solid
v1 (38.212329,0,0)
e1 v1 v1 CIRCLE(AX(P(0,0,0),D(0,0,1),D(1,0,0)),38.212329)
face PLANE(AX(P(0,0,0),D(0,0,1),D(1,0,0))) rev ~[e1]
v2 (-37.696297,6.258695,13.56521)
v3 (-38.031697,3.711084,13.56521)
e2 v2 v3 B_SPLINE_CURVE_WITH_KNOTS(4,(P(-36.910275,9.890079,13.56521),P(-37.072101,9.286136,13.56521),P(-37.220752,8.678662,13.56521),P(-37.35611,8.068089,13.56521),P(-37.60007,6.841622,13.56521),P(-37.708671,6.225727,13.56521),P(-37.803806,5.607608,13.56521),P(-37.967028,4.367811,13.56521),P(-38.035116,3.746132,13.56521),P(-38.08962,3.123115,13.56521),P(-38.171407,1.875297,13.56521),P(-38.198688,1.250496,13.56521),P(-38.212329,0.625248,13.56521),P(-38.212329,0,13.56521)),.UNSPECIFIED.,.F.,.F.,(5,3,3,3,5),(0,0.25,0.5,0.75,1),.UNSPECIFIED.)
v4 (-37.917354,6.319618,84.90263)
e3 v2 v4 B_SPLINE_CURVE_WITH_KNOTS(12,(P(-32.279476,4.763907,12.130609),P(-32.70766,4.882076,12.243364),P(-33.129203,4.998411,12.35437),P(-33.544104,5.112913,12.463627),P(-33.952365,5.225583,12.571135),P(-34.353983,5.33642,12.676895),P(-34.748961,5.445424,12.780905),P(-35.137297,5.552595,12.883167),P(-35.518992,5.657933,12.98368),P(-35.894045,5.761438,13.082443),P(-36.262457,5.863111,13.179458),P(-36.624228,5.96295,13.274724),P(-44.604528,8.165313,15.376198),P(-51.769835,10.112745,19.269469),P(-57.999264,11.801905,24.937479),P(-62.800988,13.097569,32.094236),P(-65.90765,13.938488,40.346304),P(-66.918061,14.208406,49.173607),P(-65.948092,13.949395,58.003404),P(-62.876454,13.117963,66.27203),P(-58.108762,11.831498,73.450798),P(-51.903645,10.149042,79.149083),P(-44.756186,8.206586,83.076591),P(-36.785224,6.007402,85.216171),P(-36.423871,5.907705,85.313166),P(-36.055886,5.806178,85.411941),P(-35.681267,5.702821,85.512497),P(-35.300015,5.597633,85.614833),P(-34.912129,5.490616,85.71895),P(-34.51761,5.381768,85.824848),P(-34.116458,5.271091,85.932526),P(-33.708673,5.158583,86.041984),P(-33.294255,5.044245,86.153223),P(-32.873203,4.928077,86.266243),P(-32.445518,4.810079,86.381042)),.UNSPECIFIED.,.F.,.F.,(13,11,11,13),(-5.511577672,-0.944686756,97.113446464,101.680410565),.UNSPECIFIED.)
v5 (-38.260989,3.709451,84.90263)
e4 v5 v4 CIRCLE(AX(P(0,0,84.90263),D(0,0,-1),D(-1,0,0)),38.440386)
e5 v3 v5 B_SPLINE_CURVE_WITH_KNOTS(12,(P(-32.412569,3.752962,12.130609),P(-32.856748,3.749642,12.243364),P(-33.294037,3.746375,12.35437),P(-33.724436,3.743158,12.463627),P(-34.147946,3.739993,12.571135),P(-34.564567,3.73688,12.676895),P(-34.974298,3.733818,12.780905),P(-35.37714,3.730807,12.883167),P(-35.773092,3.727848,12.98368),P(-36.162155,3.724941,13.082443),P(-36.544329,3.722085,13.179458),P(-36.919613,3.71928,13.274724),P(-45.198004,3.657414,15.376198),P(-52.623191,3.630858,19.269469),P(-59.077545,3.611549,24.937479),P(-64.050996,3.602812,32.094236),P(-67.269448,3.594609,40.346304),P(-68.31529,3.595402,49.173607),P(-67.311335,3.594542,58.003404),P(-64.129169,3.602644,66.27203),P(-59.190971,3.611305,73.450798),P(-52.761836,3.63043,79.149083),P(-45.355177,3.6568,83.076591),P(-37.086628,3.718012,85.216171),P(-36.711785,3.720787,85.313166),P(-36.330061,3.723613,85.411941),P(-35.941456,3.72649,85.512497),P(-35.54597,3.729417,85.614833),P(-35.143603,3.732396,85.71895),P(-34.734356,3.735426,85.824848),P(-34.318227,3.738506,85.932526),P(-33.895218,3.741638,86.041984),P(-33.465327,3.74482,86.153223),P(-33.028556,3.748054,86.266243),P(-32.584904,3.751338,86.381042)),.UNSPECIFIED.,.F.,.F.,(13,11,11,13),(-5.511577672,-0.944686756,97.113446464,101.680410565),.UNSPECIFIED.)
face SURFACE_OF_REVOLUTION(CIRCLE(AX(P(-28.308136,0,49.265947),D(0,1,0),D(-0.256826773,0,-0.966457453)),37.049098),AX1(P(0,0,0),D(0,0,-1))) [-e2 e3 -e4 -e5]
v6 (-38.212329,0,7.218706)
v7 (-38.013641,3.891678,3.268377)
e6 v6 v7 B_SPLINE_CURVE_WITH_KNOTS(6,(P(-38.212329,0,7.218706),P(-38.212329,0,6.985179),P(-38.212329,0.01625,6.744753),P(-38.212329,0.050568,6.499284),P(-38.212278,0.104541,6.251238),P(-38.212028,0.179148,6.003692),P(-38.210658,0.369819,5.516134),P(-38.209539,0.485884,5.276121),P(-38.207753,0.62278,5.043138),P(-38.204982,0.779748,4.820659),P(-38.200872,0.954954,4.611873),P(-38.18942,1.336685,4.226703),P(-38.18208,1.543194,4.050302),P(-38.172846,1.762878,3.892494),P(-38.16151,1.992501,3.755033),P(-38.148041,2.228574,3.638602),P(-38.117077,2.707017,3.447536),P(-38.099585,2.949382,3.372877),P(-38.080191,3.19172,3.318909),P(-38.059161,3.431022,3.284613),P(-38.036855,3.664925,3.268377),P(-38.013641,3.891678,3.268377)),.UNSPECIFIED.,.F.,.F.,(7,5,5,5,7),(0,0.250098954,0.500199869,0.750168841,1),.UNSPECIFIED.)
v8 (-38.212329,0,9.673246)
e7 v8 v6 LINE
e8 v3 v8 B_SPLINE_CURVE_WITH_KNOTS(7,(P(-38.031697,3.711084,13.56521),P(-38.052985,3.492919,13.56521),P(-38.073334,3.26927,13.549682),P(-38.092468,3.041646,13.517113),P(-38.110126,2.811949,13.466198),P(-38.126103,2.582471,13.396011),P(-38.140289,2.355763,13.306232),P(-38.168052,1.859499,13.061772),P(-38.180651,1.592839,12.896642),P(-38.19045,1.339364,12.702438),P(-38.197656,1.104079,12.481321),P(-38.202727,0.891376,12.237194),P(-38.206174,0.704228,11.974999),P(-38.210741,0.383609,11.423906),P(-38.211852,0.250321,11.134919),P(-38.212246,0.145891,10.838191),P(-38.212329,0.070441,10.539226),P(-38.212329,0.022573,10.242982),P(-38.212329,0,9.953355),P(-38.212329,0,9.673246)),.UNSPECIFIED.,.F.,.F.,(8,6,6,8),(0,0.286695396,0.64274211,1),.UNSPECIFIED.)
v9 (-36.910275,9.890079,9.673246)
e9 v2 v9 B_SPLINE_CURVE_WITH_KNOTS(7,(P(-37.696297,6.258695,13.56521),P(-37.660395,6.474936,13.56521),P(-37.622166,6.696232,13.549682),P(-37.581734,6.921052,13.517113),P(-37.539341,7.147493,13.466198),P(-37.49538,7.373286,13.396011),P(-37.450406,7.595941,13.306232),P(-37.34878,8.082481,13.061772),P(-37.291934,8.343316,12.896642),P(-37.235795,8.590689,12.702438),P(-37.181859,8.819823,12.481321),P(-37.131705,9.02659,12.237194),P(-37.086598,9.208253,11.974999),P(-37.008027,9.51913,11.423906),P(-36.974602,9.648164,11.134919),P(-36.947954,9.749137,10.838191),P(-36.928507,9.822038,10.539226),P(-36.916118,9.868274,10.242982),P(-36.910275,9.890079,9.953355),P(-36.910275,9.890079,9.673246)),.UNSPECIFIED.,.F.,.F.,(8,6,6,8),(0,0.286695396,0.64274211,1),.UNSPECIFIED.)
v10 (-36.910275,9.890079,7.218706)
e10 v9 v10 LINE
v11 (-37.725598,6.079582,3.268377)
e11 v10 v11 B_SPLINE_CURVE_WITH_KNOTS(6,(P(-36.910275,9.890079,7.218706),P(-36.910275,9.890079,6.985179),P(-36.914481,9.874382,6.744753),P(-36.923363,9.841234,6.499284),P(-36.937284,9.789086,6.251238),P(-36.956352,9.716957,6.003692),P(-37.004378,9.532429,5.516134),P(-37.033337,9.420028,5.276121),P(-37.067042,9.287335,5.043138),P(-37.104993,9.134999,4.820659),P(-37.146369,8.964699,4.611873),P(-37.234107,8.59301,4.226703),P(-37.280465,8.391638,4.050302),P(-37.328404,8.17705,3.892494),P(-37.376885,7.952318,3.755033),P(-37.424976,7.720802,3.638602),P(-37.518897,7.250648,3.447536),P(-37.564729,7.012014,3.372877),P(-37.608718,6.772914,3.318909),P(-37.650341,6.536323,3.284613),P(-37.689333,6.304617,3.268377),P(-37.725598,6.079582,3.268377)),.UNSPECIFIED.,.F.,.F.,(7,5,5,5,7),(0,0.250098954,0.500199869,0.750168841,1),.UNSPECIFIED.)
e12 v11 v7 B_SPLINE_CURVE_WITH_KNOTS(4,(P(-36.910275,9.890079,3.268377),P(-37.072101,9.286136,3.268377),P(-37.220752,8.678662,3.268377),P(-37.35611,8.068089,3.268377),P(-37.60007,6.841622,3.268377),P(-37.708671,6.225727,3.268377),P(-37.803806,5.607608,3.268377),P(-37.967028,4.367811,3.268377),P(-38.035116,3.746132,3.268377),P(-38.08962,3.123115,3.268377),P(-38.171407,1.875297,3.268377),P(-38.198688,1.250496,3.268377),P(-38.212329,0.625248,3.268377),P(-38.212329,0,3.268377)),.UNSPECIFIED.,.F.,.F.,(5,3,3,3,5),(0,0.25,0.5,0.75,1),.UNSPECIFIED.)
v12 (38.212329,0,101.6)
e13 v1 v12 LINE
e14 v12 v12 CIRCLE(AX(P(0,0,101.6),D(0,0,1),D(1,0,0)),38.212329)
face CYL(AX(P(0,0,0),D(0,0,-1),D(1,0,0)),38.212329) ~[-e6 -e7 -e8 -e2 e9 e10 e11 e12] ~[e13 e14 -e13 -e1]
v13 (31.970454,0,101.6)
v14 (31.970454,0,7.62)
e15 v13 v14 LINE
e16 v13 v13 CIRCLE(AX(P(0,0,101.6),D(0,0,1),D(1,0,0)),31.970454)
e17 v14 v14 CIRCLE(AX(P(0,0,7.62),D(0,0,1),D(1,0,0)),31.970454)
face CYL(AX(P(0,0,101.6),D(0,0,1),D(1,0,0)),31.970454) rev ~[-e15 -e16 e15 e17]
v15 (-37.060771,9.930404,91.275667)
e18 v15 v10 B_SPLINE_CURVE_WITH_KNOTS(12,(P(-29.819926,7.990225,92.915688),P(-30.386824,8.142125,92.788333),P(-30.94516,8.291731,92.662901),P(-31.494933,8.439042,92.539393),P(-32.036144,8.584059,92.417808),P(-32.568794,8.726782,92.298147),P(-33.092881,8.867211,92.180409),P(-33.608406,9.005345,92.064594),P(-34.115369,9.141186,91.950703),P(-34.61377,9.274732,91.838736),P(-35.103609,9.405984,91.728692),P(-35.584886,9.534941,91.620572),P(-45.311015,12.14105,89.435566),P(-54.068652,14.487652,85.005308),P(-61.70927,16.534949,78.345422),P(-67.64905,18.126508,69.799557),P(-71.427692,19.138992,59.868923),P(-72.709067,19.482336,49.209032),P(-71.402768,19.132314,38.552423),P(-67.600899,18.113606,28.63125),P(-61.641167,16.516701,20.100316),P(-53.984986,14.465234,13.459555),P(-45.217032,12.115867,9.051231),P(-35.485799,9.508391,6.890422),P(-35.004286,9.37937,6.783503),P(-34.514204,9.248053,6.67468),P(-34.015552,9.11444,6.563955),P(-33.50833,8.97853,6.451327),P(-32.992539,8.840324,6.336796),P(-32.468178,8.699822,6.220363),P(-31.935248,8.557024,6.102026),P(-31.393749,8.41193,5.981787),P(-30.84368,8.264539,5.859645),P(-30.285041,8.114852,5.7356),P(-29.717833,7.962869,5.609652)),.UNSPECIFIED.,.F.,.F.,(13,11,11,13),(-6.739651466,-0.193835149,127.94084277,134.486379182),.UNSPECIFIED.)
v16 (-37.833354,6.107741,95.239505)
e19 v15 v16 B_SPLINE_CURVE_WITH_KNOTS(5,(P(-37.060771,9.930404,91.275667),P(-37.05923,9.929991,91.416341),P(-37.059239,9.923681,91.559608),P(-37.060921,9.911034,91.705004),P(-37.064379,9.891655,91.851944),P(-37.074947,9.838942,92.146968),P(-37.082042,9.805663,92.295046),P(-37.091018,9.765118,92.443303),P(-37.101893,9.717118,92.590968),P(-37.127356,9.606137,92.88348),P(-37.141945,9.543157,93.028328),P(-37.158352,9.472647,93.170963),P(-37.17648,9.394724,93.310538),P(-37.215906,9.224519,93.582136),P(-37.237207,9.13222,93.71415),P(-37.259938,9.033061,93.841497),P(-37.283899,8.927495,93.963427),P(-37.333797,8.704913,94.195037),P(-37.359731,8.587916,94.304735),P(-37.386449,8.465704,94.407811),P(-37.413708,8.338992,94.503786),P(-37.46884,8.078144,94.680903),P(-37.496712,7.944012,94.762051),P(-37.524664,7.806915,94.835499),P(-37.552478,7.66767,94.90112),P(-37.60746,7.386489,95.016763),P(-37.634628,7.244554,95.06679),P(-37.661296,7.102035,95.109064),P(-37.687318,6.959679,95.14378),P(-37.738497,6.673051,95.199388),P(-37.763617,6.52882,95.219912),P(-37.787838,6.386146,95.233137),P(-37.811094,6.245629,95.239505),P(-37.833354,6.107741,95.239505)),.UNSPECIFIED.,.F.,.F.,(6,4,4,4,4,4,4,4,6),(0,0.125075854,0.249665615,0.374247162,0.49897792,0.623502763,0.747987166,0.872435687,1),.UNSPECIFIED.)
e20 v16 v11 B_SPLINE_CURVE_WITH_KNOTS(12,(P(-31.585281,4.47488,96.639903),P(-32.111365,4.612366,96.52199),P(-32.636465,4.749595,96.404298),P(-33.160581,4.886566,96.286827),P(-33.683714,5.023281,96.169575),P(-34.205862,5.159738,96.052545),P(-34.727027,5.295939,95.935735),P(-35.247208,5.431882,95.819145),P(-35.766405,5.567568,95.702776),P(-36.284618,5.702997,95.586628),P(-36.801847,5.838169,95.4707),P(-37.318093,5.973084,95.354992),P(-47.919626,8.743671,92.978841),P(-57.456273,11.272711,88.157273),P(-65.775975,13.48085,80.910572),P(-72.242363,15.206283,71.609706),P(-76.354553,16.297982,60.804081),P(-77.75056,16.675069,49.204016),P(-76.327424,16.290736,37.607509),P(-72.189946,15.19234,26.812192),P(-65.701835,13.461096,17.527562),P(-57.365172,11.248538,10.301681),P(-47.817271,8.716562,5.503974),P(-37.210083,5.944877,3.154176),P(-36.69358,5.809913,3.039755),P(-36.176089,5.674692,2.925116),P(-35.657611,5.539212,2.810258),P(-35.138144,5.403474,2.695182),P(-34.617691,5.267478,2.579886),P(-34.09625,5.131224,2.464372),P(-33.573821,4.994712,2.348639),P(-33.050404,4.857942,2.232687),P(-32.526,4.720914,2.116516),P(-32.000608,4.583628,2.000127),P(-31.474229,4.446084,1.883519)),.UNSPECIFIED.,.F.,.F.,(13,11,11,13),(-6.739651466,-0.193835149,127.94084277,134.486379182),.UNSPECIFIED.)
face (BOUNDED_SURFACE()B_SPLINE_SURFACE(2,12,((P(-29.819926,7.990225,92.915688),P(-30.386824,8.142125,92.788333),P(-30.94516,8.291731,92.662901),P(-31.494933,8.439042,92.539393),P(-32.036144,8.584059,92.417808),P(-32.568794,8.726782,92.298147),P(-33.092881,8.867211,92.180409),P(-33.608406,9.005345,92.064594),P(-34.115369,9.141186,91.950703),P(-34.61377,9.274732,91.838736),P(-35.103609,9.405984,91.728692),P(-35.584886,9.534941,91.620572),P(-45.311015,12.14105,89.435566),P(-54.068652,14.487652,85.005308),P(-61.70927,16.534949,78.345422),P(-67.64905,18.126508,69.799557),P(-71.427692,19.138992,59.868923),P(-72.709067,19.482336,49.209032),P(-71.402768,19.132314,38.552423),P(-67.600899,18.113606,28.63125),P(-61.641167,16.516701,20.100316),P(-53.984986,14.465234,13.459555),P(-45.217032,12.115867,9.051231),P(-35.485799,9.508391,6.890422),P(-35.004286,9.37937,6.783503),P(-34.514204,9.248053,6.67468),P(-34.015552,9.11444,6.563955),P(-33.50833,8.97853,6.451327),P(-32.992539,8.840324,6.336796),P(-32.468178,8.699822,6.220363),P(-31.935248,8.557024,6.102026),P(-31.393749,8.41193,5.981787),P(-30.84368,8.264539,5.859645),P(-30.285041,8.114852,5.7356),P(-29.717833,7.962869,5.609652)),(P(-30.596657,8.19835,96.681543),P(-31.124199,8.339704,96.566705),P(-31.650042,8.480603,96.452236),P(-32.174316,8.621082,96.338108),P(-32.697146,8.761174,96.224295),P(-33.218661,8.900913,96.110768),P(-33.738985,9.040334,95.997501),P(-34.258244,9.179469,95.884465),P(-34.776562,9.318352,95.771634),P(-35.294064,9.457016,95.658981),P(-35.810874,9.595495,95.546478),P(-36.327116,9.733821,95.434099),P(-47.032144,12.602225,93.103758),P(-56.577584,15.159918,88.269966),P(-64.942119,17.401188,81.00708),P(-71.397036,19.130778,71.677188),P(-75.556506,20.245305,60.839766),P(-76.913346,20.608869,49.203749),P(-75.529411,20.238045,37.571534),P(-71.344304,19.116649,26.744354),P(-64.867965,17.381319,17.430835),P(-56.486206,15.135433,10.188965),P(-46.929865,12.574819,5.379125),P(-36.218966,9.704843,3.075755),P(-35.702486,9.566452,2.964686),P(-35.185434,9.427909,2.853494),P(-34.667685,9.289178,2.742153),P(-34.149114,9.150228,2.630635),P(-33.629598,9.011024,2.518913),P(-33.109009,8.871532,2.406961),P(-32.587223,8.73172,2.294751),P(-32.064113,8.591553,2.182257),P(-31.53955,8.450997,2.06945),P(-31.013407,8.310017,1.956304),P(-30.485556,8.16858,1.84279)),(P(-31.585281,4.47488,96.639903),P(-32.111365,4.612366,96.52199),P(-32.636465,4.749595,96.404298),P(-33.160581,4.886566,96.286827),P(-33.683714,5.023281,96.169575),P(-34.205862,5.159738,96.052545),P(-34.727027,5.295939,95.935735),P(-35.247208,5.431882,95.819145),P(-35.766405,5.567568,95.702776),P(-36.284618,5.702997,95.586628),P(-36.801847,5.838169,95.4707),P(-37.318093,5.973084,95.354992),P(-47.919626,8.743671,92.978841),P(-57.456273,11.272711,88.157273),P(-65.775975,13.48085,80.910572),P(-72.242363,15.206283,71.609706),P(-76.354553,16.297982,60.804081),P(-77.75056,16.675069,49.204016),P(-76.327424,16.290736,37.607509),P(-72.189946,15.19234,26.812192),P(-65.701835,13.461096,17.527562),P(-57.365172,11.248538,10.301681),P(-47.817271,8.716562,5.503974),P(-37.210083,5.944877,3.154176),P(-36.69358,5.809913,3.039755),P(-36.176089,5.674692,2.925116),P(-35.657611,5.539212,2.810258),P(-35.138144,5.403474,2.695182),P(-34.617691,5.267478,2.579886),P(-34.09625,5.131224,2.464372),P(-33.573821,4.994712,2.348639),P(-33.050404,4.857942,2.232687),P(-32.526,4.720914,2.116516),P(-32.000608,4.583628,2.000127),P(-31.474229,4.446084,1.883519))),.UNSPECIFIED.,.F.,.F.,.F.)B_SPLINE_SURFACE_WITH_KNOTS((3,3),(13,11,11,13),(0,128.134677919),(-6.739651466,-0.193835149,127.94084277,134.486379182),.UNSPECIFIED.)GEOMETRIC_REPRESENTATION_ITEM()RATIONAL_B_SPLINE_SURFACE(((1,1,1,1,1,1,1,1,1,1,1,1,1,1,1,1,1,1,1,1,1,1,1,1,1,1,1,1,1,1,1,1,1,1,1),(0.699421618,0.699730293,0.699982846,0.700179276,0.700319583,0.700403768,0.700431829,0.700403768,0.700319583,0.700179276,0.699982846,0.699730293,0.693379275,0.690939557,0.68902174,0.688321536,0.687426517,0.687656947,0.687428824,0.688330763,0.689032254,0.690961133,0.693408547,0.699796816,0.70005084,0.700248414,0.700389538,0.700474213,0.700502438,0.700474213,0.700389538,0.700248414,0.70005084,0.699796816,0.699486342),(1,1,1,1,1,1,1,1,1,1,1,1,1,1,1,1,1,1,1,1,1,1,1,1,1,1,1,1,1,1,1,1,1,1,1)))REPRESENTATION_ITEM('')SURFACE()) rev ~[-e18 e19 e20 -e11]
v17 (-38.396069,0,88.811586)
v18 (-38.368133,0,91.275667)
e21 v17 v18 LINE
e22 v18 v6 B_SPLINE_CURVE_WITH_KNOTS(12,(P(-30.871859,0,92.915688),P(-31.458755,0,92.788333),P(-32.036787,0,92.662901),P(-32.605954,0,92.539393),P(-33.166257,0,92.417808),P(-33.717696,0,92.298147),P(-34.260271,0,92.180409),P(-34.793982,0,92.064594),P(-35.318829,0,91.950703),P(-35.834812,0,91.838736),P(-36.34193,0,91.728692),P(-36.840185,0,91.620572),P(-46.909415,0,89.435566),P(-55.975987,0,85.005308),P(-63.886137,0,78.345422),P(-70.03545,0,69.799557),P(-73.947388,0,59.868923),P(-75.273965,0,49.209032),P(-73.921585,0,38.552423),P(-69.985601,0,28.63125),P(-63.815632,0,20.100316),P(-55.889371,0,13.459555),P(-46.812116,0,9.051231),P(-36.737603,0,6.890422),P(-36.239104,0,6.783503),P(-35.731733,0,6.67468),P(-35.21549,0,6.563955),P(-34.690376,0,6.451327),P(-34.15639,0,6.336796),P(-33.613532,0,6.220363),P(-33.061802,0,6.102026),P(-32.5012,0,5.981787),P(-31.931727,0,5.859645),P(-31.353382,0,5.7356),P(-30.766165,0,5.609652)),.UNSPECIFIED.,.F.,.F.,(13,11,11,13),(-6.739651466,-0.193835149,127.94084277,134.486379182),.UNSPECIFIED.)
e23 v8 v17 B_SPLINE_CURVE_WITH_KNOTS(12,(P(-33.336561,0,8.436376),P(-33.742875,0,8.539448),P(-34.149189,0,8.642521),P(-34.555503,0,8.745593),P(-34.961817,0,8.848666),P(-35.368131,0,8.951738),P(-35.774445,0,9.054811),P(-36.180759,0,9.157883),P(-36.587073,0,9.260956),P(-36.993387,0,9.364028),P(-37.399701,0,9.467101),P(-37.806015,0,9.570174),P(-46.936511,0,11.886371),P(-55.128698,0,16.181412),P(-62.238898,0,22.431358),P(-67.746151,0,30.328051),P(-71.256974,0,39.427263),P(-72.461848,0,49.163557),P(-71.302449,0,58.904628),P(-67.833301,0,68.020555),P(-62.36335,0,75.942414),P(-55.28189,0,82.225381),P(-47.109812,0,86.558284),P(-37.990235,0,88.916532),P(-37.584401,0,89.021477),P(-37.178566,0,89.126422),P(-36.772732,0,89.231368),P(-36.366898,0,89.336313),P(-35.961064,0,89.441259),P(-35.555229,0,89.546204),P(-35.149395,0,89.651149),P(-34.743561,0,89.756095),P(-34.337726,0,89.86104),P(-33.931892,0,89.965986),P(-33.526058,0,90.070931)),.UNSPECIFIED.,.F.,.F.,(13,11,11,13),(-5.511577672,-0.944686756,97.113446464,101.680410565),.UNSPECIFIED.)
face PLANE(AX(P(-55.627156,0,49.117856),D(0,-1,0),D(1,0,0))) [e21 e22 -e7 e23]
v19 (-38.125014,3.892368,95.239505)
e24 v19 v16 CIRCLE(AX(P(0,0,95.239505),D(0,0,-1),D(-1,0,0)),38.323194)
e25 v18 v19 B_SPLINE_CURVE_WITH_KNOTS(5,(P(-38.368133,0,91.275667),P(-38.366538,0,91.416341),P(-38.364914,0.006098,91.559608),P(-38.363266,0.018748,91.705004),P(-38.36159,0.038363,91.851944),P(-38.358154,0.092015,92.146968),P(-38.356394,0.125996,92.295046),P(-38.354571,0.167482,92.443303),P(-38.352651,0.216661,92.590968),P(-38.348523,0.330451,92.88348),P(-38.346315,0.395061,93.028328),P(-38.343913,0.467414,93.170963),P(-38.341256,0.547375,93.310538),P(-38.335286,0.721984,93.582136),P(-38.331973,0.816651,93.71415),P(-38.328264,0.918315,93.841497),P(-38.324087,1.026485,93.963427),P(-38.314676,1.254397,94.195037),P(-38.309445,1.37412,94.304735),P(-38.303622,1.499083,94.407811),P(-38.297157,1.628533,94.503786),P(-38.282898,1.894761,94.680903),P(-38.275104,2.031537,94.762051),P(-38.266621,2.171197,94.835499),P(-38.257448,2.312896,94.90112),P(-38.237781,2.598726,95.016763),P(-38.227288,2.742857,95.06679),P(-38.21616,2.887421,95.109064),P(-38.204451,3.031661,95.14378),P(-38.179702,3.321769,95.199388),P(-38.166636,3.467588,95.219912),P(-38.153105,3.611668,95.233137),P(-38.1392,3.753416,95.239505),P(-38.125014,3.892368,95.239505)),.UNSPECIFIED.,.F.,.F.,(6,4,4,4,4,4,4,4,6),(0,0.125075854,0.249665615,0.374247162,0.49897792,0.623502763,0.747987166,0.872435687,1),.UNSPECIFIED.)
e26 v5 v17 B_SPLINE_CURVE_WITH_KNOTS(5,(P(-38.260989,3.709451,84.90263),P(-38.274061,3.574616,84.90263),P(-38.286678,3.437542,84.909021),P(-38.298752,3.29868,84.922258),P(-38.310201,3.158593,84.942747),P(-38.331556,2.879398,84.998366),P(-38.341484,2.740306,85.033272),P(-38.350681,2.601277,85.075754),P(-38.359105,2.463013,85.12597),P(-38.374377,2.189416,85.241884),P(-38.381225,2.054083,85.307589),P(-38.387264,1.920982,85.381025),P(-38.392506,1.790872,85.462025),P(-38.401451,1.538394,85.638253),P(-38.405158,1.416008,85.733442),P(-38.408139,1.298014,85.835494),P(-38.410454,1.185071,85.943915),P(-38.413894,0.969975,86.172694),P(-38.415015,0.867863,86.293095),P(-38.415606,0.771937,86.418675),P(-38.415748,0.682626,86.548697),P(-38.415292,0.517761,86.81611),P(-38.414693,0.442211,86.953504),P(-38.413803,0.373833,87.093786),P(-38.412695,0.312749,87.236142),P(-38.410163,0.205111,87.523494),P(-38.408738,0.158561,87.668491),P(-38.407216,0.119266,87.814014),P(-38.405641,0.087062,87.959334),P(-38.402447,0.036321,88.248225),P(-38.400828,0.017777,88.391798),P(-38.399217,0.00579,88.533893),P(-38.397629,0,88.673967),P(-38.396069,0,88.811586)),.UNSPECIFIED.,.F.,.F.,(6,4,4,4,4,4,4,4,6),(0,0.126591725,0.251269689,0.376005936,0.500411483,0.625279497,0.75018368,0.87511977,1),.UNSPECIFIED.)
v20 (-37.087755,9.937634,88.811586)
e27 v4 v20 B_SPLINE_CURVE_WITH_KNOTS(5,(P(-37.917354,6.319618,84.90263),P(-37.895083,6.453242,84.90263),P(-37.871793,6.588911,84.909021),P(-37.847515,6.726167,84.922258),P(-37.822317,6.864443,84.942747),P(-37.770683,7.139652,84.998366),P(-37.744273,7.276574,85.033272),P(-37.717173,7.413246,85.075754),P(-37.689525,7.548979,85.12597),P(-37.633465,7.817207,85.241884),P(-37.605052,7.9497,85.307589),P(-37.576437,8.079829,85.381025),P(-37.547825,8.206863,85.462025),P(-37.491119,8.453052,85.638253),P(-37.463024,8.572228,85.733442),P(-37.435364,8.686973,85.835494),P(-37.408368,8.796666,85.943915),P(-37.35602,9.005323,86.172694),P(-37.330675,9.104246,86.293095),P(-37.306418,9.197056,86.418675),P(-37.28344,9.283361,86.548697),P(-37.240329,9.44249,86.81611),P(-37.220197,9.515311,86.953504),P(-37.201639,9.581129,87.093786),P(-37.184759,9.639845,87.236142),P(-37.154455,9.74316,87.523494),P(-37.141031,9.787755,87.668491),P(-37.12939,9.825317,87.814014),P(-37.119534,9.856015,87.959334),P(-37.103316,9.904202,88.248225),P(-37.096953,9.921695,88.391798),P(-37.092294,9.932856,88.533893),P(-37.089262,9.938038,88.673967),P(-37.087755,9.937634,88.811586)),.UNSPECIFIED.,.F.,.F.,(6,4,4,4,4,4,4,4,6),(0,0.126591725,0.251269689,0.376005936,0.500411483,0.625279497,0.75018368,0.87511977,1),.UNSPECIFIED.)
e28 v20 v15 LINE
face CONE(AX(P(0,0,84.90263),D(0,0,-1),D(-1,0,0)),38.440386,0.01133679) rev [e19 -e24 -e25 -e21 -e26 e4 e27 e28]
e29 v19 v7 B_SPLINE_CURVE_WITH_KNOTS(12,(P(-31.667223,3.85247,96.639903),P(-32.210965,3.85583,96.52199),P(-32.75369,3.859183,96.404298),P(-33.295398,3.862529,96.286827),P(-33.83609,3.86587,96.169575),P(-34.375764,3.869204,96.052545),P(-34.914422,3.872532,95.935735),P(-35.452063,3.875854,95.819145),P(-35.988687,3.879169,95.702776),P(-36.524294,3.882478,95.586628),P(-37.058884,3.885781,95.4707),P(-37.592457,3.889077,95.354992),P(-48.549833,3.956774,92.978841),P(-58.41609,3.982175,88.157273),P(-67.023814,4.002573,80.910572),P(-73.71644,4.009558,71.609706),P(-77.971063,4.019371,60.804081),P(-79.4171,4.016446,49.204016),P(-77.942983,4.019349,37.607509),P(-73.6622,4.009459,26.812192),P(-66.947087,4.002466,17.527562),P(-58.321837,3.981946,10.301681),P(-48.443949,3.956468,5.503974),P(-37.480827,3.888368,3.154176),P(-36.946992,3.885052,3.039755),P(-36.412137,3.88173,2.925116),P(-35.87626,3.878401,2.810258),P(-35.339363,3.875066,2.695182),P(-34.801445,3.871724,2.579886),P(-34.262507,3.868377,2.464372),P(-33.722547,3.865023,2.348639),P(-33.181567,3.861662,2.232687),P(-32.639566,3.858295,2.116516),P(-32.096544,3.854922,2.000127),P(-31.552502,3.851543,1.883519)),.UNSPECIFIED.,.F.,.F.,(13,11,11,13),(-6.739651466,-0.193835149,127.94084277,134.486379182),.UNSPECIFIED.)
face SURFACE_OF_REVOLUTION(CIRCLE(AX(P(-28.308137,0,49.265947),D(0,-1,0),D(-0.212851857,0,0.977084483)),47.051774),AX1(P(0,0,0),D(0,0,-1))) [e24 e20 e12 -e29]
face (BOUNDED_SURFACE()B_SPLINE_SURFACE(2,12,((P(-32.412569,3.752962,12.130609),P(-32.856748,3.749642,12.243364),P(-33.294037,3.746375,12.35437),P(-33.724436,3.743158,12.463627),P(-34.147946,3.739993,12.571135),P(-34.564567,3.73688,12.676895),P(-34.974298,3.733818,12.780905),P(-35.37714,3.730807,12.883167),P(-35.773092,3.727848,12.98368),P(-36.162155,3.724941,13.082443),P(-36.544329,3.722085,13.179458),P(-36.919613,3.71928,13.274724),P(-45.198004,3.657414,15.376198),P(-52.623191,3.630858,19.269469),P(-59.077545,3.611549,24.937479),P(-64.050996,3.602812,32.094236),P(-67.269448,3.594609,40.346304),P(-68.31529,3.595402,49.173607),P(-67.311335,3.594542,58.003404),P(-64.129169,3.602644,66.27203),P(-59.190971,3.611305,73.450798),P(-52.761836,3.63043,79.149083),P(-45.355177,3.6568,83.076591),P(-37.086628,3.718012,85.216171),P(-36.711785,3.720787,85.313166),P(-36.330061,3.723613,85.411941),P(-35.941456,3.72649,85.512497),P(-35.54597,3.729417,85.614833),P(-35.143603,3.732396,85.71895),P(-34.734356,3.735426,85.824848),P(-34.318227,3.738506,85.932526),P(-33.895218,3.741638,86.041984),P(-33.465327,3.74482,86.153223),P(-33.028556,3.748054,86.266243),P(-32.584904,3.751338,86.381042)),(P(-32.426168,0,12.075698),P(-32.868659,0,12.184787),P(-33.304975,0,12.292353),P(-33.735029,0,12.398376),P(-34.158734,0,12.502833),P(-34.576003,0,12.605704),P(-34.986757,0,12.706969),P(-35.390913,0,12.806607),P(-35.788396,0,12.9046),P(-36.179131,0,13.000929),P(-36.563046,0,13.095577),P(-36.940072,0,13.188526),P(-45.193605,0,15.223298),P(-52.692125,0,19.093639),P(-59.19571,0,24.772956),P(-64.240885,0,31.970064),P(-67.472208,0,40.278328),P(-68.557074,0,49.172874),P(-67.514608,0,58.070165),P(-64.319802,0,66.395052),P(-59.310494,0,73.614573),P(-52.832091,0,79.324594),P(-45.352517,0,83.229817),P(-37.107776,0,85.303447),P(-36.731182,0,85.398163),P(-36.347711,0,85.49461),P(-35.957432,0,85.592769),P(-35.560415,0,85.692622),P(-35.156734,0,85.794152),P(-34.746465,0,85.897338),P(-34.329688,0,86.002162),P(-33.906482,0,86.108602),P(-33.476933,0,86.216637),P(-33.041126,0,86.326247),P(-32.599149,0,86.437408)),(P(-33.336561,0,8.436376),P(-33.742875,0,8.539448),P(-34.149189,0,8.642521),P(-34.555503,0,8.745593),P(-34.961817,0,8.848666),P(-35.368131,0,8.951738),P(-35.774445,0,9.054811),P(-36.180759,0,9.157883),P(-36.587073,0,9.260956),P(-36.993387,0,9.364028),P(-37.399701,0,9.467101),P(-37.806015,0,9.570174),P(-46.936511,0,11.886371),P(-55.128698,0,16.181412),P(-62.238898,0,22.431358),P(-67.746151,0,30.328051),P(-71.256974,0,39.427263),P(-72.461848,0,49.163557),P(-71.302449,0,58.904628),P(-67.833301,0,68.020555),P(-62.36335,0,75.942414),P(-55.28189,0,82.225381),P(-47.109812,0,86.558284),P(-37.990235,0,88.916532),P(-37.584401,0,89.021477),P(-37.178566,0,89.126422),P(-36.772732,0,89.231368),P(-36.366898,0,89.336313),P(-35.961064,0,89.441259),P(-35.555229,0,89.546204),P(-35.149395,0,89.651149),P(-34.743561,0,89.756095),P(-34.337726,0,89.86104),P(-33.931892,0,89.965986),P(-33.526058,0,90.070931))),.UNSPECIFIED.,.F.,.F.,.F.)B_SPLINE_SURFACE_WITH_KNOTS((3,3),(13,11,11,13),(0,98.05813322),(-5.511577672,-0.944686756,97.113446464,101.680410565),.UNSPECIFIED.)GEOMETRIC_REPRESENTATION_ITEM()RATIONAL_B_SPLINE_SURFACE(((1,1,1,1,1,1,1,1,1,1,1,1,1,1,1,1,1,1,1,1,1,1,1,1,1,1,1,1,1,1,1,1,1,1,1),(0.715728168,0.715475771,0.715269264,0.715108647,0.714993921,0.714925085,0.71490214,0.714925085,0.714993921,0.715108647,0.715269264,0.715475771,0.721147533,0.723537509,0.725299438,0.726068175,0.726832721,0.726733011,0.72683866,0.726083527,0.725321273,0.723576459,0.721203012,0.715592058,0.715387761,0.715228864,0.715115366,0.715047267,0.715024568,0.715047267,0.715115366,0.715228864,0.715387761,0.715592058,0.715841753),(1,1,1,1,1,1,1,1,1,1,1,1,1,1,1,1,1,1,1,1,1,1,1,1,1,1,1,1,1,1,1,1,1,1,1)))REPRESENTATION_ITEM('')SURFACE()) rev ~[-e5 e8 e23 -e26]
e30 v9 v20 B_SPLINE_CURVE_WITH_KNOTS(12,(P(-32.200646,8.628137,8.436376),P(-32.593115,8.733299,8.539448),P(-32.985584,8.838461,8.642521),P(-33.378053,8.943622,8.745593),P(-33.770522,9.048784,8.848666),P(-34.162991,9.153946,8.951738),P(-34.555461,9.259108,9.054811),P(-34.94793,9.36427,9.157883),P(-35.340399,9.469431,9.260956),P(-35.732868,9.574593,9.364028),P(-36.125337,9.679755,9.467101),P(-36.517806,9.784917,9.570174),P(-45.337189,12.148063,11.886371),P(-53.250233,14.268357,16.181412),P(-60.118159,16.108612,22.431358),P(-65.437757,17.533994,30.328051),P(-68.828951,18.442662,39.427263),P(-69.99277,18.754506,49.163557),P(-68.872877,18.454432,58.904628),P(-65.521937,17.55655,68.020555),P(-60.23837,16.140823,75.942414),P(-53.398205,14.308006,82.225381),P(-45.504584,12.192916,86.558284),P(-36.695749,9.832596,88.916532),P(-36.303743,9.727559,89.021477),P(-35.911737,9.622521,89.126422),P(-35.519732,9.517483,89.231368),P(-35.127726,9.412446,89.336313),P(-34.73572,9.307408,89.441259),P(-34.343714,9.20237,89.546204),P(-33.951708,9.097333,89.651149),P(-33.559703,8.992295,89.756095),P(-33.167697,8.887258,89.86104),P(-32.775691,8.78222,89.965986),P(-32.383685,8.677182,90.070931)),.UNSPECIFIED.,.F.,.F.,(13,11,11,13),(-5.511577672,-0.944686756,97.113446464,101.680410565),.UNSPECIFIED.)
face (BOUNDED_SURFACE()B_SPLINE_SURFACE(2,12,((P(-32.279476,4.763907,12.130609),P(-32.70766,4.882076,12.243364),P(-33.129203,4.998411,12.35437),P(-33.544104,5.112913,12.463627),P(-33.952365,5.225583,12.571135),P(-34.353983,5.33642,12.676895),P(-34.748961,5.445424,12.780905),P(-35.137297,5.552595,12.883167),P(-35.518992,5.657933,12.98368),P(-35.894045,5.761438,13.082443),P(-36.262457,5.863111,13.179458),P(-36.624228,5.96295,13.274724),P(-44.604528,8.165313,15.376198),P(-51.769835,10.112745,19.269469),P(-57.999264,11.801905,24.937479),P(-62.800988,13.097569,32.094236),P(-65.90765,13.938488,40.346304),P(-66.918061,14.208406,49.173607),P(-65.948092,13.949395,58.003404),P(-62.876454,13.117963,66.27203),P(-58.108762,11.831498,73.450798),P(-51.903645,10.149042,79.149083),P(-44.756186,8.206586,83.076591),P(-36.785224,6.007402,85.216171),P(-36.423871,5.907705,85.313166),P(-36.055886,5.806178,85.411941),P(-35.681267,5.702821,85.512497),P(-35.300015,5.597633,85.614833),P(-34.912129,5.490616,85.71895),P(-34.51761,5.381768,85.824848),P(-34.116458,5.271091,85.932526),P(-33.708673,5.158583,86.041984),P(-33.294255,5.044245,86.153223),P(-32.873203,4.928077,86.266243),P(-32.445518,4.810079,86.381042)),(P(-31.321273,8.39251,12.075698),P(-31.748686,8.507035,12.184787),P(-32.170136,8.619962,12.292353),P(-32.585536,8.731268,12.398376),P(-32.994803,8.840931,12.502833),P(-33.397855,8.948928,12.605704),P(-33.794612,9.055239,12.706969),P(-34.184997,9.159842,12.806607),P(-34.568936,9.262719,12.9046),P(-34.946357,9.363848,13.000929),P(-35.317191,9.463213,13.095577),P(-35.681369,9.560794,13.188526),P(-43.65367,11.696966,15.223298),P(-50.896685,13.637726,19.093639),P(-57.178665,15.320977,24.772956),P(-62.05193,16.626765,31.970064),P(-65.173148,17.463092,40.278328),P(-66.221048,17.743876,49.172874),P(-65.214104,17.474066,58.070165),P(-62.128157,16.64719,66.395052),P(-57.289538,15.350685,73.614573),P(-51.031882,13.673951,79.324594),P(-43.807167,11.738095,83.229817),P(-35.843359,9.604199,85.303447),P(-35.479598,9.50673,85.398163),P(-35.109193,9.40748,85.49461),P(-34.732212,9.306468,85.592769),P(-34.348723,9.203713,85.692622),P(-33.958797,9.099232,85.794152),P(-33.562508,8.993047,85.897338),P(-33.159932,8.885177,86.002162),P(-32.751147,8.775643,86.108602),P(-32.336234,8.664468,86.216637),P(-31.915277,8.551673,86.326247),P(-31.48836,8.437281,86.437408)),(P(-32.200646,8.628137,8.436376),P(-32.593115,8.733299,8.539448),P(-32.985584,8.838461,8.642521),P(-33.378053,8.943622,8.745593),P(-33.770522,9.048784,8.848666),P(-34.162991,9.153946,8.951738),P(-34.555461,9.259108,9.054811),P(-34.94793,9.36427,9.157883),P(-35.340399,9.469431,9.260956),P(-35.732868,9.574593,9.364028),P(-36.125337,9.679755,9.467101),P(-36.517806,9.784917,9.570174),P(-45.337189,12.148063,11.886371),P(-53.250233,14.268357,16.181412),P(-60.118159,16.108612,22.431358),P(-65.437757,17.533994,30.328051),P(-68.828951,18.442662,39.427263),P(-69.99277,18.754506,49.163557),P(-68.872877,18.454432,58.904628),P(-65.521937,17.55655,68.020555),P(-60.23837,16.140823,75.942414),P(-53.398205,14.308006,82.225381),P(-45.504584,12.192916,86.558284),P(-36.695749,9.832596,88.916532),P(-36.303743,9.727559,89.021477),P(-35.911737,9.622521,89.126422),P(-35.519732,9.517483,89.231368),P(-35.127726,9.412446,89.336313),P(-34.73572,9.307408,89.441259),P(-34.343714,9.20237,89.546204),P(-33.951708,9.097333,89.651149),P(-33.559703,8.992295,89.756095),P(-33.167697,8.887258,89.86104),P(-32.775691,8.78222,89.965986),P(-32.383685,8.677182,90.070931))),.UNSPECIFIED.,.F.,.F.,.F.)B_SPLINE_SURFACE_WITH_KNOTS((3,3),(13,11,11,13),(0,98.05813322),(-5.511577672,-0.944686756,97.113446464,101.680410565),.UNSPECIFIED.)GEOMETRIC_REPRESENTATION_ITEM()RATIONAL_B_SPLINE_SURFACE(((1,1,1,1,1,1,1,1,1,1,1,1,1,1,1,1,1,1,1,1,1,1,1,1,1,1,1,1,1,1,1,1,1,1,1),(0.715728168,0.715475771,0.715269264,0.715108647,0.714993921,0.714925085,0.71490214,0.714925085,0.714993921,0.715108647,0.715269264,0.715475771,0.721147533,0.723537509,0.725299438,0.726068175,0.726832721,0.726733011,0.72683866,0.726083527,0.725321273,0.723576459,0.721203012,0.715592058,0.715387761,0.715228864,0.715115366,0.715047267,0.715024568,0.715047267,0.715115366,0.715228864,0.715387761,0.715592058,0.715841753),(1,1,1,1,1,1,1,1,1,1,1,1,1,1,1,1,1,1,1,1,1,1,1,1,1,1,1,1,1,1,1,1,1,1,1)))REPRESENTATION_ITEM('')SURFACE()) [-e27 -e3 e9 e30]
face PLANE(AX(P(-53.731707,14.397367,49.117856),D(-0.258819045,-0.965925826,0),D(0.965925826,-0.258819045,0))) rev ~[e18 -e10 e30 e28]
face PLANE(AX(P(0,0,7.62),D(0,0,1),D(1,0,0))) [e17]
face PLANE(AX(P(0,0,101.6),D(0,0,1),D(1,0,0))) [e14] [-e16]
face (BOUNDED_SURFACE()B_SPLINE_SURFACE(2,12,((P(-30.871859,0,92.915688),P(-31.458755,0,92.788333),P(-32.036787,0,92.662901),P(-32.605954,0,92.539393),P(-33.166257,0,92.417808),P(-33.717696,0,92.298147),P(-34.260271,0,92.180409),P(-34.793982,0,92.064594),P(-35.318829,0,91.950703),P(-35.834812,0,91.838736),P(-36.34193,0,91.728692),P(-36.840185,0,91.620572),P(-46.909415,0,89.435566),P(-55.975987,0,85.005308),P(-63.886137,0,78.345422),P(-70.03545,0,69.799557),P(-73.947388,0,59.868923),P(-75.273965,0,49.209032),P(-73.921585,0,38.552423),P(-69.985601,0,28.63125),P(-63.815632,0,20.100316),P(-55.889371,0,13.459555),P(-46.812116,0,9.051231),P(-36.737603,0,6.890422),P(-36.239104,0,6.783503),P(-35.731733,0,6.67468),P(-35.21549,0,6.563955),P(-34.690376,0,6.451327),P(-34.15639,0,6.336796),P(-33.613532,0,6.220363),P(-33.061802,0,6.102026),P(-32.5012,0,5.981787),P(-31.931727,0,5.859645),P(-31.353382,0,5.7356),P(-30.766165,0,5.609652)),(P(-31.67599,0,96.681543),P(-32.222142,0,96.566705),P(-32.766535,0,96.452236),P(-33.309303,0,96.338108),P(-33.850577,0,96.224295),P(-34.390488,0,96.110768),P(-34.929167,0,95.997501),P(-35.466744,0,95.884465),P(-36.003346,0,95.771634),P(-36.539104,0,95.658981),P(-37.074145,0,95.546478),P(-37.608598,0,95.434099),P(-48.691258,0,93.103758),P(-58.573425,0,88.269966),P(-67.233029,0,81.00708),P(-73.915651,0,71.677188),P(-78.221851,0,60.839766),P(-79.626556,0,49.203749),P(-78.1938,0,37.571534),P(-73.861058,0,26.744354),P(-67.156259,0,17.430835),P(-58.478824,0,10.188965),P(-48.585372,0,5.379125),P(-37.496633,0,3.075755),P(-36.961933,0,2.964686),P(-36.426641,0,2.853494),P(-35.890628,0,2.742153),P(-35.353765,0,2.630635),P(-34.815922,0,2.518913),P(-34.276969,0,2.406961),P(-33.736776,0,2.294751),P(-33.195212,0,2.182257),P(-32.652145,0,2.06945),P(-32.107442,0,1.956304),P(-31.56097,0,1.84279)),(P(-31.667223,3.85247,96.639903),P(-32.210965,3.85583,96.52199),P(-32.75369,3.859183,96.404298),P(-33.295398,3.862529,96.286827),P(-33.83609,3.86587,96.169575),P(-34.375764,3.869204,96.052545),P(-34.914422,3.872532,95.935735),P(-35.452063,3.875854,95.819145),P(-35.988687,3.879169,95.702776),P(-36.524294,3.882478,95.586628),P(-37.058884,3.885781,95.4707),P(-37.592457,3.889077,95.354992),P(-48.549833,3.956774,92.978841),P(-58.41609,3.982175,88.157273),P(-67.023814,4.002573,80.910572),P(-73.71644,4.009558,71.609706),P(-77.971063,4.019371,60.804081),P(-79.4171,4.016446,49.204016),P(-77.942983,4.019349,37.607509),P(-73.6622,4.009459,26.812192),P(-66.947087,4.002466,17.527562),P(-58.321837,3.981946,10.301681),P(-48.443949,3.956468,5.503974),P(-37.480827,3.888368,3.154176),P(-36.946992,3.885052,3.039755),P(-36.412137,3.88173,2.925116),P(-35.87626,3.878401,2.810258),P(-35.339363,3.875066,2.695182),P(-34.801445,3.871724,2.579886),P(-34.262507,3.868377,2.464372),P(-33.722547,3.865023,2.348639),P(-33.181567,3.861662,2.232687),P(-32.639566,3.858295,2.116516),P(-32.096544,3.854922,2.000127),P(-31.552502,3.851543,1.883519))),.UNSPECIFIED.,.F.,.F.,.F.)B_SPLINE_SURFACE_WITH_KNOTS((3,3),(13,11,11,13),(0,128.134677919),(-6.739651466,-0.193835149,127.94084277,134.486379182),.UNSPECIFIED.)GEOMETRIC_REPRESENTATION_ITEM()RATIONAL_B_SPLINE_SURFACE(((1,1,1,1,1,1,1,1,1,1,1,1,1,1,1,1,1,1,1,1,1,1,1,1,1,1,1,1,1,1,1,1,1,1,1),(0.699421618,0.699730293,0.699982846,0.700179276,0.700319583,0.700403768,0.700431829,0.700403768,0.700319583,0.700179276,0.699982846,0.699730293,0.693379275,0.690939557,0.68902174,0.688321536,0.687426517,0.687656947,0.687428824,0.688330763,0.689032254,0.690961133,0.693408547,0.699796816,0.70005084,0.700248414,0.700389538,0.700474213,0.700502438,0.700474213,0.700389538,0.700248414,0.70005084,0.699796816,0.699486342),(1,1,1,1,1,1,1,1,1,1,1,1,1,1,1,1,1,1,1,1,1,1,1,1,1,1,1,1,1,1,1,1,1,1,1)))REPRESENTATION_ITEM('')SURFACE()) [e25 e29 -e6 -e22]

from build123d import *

# Parameters (mm, degrees)
F0_R     = 38.212329
F1_DEPTH = 101.6
F2_R     = 31.970454
F3_DEPTH = 93.98
F5_ANGLE = 15
F6_R     = 3.81


with BuildPart() as f1:
    # F0 (on Top) → F1 (new body)
    with BuildSketch(Plane.XY):
        Circle(F0_R)
    extrude(amount=F1_DEPTH)

    # F2 (on face) → F3 (cut)
    with BuildSketch(Plane.XY.offset(101.6)):
        Circle(F2_R)
    extrude(amount=-F3_DEPTH, mode=Mode.SUBTRACT)

    # F4 (on Front) → F5 (revolve)
    with BuildSketch(Plane.XZ):
        with BuildLine():
            ThreePointArc((-37.823336, 13.45957), (-65.355852, 48.945968), (-38.440386, 84.90263))
            Line((-38.440386, 84.90263), (-38.323194, 95.239505))
            ThreePointArc((-38.323194, 95.239505), (-75.359479, 49.064441), (-37.929054, 3.208294))
            Line((-37.929054, 3.208294), (-37.823336, 13.45957))
        make_face()
    revolve(axis=Axis((0, 0, 0), (0, 0, -1)), revolution_arc=F5_ANGLE)

    # F6
    f6_edges = [f1.edges().sort_by_distance(p)[0] for p in [
        (-63.130057, 16.915648, 49.147506),
        (-72.792051, 19.504571, 49.209229),
        (-65.357045, 0, 49.147506),
        (-75.359876, 0, 49.209229),
    ]]
    fillet(f6_edges, radius=F6_R)


solid = f1.part
